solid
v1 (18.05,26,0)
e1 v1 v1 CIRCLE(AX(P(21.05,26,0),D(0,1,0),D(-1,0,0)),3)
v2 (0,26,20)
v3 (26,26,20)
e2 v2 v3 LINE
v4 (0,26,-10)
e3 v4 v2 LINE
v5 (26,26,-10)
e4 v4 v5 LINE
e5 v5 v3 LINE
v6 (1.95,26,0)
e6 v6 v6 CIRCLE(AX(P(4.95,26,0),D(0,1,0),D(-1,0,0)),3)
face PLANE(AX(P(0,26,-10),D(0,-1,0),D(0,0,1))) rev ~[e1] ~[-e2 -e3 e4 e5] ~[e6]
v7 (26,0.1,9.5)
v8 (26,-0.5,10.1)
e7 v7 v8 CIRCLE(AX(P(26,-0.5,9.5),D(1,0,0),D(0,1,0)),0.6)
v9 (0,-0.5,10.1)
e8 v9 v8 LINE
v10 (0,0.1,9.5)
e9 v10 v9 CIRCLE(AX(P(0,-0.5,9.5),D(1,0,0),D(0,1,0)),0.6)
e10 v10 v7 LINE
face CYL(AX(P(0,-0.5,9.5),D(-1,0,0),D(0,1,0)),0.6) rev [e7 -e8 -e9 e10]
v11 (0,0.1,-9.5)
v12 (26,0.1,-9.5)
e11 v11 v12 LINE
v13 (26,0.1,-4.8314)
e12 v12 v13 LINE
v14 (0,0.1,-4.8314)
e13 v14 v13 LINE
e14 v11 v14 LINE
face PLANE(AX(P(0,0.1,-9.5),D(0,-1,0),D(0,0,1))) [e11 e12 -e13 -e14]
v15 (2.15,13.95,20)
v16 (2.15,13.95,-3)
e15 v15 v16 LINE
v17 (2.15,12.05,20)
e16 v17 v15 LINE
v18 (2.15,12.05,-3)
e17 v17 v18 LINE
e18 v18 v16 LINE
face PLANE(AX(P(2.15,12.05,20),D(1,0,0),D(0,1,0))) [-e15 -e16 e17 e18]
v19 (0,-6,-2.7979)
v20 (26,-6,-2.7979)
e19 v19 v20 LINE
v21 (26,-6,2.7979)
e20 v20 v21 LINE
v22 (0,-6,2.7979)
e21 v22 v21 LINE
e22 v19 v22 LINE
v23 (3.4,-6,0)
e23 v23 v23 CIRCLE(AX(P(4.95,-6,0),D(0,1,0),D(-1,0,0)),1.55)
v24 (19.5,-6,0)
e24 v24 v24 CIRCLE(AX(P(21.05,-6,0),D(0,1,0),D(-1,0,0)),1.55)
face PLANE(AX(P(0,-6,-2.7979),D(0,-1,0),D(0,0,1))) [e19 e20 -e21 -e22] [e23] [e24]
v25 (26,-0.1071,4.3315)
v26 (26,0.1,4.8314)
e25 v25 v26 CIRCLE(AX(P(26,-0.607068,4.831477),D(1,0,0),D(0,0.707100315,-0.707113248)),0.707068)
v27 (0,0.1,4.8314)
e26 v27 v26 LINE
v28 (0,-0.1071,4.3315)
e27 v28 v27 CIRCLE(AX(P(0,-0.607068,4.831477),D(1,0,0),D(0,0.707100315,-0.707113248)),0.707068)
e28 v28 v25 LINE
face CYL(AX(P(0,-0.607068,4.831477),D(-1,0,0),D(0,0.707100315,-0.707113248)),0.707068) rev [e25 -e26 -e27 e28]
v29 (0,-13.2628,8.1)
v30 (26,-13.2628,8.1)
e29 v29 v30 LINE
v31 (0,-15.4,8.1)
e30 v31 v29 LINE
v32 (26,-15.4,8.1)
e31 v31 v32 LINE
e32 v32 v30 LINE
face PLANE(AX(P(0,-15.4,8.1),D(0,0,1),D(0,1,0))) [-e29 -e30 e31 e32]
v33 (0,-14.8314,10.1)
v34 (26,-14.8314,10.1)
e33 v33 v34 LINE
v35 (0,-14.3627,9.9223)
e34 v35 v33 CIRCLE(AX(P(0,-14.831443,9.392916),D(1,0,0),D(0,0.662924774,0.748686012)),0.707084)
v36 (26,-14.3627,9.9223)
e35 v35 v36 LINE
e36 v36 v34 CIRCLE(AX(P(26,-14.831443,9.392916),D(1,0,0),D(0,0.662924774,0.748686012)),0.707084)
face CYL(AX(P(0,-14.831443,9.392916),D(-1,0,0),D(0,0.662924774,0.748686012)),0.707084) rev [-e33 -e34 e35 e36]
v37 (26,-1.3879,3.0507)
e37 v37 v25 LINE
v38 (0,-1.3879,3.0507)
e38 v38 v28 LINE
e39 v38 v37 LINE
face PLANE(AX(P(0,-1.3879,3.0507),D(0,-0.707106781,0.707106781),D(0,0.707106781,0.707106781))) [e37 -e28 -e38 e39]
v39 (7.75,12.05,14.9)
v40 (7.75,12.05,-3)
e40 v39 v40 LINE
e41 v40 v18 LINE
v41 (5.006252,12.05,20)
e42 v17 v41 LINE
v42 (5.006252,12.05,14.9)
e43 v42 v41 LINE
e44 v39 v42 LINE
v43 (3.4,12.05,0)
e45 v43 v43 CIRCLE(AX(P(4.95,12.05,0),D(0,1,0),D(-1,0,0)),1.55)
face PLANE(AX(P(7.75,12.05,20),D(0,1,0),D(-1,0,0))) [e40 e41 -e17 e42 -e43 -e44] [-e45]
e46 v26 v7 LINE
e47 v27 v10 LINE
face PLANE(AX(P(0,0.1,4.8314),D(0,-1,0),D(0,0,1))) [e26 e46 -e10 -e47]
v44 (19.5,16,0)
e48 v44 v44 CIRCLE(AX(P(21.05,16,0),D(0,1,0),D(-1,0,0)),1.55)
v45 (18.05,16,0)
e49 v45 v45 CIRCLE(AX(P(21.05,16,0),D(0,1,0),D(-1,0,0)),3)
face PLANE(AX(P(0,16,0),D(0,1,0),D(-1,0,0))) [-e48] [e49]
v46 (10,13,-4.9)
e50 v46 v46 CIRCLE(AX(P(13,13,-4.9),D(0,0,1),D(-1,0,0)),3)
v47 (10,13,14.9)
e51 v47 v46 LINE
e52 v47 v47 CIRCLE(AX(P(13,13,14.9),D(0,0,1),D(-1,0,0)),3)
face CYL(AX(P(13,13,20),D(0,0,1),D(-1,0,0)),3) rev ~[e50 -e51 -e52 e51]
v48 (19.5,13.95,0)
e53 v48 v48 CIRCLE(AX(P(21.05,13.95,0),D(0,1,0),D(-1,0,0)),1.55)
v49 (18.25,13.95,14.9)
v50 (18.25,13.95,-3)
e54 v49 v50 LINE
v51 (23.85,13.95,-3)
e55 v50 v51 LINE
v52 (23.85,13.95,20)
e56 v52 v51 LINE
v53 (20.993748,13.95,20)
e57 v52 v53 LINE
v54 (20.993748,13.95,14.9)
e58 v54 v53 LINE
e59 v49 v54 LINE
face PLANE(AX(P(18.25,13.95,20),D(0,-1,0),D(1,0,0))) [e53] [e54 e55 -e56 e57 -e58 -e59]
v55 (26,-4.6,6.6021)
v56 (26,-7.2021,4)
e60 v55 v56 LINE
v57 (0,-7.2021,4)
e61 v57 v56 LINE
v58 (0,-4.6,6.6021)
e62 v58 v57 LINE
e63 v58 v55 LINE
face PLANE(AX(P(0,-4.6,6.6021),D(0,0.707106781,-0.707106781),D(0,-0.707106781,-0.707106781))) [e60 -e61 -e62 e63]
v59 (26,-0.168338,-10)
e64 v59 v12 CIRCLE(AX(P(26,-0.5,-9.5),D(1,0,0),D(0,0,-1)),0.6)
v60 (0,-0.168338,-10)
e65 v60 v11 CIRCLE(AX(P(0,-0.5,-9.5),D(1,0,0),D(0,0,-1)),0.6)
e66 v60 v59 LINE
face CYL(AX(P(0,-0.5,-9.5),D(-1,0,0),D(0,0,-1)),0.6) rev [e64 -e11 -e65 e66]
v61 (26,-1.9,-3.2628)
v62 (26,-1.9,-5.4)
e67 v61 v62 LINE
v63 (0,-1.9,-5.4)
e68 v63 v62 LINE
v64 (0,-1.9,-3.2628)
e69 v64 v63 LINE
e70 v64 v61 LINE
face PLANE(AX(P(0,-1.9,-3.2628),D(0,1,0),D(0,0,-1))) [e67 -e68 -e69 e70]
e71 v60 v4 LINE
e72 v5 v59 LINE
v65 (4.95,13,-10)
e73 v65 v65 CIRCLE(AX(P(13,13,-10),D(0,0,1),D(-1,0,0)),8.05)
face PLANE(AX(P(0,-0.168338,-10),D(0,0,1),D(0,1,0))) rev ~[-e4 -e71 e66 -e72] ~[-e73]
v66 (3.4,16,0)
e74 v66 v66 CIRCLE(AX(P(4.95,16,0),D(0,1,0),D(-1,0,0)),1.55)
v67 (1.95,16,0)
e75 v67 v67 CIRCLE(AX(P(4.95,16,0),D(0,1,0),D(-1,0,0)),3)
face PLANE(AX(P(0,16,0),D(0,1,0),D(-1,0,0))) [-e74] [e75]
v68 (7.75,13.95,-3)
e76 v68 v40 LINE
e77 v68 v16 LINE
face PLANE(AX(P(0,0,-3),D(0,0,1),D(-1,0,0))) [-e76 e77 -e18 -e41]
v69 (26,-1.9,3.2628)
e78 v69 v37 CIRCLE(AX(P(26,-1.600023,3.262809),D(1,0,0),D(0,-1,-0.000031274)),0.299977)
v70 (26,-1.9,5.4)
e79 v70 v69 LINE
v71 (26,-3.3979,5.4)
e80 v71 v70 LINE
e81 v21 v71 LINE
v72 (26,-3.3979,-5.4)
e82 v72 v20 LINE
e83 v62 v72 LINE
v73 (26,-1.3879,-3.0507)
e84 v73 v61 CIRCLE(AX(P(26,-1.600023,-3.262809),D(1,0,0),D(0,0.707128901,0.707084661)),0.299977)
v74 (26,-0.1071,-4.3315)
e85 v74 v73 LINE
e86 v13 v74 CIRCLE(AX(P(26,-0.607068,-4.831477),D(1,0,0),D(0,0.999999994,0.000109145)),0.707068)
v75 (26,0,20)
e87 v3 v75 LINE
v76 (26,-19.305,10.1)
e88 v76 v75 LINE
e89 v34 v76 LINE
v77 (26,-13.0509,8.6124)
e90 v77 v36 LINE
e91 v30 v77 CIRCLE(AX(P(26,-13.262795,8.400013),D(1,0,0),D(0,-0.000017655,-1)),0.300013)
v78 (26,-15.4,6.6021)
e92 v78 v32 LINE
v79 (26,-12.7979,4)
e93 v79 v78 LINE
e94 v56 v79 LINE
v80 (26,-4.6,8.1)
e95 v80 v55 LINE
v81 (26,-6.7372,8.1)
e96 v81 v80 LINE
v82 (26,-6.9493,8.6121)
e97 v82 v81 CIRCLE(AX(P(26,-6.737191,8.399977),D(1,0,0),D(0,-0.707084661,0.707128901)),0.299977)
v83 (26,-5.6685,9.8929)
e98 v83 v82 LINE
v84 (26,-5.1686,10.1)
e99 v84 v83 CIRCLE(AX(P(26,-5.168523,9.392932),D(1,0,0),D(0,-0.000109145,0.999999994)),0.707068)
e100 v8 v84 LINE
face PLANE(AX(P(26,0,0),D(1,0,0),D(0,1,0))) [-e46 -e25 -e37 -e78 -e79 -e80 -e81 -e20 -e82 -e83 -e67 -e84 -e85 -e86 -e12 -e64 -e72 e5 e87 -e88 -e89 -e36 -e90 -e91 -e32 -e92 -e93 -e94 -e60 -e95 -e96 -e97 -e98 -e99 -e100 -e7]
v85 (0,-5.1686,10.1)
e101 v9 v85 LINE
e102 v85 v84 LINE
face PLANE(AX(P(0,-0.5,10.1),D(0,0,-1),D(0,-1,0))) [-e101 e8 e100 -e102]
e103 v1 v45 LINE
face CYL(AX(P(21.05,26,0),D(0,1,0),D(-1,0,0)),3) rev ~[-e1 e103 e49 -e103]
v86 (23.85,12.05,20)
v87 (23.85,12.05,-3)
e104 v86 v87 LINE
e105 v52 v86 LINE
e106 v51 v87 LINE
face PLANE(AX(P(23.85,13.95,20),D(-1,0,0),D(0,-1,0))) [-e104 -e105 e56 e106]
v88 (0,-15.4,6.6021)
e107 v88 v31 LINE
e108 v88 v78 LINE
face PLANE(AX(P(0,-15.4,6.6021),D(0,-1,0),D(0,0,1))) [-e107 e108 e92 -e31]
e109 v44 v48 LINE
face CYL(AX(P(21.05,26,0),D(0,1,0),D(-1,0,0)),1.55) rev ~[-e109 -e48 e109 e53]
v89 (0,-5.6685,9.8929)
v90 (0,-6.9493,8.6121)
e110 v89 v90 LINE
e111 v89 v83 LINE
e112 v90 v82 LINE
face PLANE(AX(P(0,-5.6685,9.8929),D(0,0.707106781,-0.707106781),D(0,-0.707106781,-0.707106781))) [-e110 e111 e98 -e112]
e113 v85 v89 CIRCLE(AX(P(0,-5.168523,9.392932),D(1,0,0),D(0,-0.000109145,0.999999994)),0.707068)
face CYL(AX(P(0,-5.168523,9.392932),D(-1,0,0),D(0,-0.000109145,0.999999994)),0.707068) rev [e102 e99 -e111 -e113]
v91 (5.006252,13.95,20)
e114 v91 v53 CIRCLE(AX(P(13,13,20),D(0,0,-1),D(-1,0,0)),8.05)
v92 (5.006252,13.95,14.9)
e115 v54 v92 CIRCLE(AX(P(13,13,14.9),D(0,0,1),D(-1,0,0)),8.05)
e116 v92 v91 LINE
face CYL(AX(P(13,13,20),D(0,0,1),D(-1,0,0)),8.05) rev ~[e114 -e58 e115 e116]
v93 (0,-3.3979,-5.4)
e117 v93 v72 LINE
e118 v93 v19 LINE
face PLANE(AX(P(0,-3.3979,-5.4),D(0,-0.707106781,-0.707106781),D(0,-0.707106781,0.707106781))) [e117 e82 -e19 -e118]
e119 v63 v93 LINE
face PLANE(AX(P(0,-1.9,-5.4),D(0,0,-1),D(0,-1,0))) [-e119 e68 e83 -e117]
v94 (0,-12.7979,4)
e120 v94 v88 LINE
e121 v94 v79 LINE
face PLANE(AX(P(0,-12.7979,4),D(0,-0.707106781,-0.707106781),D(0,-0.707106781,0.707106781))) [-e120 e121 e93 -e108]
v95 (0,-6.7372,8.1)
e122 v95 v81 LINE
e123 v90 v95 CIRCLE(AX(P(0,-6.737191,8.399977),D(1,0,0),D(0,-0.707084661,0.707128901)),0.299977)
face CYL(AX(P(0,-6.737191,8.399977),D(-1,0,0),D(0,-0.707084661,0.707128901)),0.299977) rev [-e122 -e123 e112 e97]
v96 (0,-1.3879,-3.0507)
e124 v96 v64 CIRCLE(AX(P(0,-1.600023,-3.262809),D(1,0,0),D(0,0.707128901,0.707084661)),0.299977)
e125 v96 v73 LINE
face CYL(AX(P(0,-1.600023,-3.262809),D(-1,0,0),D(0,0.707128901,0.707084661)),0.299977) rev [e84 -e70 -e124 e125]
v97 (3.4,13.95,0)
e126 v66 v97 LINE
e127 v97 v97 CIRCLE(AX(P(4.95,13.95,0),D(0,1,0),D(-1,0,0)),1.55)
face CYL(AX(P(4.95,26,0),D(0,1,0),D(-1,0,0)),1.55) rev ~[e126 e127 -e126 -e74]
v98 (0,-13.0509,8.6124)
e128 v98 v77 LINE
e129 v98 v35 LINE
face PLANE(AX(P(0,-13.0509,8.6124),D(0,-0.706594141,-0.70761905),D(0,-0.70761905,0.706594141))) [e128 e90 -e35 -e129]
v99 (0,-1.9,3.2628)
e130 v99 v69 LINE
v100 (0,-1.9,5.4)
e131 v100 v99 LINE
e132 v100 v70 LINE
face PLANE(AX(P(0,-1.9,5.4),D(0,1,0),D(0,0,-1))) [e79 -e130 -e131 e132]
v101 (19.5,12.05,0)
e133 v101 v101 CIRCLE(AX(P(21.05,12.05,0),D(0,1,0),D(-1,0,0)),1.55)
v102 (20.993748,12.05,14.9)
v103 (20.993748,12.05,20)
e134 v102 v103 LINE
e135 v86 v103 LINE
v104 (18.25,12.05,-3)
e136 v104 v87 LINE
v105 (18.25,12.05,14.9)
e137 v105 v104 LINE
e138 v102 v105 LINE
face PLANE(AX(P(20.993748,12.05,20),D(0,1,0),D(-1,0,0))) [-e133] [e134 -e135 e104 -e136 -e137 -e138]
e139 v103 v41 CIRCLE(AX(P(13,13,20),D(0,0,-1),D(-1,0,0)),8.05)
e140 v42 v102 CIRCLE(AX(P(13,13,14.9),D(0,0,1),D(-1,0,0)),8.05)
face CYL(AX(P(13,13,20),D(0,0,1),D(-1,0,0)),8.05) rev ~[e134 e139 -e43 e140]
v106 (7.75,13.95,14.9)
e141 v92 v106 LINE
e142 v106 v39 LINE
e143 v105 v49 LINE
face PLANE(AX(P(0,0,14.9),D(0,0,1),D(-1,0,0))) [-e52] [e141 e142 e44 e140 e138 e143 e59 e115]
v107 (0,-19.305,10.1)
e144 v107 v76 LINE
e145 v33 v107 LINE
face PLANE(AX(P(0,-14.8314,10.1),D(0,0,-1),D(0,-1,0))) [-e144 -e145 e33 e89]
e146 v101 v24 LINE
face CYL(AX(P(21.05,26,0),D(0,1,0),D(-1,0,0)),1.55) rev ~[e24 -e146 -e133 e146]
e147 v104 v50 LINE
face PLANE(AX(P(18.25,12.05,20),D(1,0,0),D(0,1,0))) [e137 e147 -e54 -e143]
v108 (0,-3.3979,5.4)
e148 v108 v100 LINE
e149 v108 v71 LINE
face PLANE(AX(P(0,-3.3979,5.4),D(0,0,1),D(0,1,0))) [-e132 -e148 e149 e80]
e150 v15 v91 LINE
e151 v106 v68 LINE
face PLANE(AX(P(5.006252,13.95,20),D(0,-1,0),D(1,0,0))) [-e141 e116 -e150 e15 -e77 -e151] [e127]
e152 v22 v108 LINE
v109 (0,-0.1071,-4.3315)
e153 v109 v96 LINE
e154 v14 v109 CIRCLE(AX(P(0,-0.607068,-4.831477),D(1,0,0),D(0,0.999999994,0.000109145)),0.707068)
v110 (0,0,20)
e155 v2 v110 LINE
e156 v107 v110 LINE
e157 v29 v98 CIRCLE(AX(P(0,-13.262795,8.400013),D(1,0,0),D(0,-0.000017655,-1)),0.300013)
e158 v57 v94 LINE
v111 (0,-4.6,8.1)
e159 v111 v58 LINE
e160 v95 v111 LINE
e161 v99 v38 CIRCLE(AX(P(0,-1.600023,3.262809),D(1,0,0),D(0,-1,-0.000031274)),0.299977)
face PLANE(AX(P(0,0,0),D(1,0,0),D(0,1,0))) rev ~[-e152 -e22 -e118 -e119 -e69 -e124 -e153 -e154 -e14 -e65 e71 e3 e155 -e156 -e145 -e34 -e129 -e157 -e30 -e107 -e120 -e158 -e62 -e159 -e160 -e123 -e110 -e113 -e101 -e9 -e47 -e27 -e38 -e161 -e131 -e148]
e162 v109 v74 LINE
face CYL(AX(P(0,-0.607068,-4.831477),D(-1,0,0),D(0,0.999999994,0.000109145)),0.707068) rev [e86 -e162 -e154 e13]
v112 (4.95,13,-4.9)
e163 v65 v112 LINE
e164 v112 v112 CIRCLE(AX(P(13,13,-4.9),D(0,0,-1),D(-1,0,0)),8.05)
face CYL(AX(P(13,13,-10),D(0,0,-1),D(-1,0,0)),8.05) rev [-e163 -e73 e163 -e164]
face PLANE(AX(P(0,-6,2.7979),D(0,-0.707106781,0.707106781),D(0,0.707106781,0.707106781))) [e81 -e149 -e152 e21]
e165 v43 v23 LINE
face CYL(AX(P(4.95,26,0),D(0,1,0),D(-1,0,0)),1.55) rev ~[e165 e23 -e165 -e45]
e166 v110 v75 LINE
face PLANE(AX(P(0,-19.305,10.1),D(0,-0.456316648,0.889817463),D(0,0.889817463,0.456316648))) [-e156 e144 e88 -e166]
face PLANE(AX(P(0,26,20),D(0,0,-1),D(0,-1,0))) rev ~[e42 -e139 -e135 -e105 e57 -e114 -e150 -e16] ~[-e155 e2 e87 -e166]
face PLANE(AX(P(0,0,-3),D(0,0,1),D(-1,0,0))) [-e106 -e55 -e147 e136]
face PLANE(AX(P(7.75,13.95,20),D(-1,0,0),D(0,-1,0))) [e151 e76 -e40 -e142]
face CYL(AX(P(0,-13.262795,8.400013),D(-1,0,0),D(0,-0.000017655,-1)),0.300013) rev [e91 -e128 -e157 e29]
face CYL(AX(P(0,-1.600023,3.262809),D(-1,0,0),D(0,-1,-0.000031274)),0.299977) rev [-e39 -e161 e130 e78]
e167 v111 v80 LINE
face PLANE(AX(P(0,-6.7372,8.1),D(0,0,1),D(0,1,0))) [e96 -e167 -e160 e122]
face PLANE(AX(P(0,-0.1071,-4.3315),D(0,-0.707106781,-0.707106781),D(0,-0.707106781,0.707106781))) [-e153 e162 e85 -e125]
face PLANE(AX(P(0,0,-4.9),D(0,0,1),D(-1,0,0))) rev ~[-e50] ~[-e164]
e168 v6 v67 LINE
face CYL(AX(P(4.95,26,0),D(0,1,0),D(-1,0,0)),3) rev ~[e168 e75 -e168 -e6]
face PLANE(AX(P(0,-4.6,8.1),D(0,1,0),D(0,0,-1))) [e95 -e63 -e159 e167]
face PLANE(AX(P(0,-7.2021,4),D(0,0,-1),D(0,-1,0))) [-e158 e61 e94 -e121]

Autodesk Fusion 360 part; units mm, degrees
sketch "Sketch1" plane through (0, 0, 0) normal (1, 0, 0) x (0, 1, 0)
  line L0 (-3.4393, 5.5) -> (-1.8, 5.5)
  line L1 (-12.8393, 3.9) -> (-15.5, 6.5607)
  line L2 (-7.1607, 3.9) -> (-12.8393, 3.9)
  line L3 (-4.5, 6.5607) -> (-7.1607, 3.9)
  line L4 (-4.5, -8.2) -> (-6.7372, -8.2)
  line L5 (-5.5978, 9.8222) -> (-6.8786, 8.5414)
  line L6 (-1.8, 5.5) -> (-1.8, 3.2628)
  line L7 (-19.8494, 4.4312) -> (-18.5414, 3.1214)
  line L8 (-15.5, 8.2) -> (-13.2628, 8.2)
  arc A0 (-5.1686, 10) -> (-5.5978, 9.8222) centre (-5.1686, 9.3929) ccw
  circle A1 centre (-10, 0) radius 2.1
  line L9 (-0.5, 10) -> (-5.1686, 10)
  line L10 (-6.1, 2.8393) -> (-3.4393, 5.5)
  line L11 (-14.8314, 10) -> (-19.5, 10)
  line L12 (0, -9.5) -> (0, -4.8314)
  line L13 (-15.5, -8.2) -> (-15.5, -6.5607)
  line L14 (-15.5, -6.5607) -> (-12.8393, -3.9)
  line L15 (-14.4022, -9.8222) -> (-13.1214, -8.5414)
  line L16 (-19.9987, -4.7917) -> (-20, -9.5)
  line L17 (-18.5414, -3.1214) -> (-19.8222, -4.4022)
  line L18 (-6.8786, -8.5414) -> (-5.7664, -9.6536)
  arc A2 (-19.8222, -4.4022) -> (-19.9987, -4.7917) centre (-19.3929, -4.8314) ccw
  line L19 (-13.9, -2.8393) -> (-16.5607, -5.5)
  line L20 (-16.5607, -5.5) -> (-18.2, -5.5)
  arc A3 (-0.5, -10) -> (0, -9.5) centre (-0.5, -9.5) ccw
  arc A4 (-18.2, -3.2628) -> (-18.5414, -3.1214) centre (-18.4, -3.2628) ccw
  line L21 (-13.2628, -8.2) -> (-15.5, -8.2)
  line L22 (-0.1778, -4.4022) -> (-1.4586, -3.1214)
  arc A5 (-5.7664, -9.6536) -> (-5.1686, -10) centre (-5.1163, -9.2207) ccw
  arc A6 (-20, -9.5) -> (-19.5, -10) centre (-19.5, -9.5) ccw
  line L23 (-1.8, -5.5) -> (-3.4393, -5.5)
  line L24 (-5.1686, -10) -> (-0.5, -10)
  line L25 (-3.4393, -5.5) -> (-6.1, -2.8393)
  line L26 (-12.8393, -3.9) -> (-7.1607, -3.9)
  line L27 (-4.5, -6.5607) -> (-4.5, -8.2)
  arc A7 (0, -4.8314) -> (-0.1778, -4.4022) centre (-0.6071, -4.8314) ccw
  arc A8 (-14.8314, -10) -> (-14.4022, -9.8222) centre (-14.8314, -9.3929) ccw
  line L28 (-18.2, -5.5) -> (-18.2, -3.2628)
  arc A9 (-13.1214, -8.5414) -> (-13.2628, -8.2) centre (-13.2628, -8.4) ccw
  arc A10 (-20, 4.9) -> (-19.8494, 4.4312) centre (-19.3734, 4.8428) ccw
  arc A11 (-13.2628, 8.2) -> (-13.1214, 8.5414) centre (-13.2628, 8.4) ccw
  line L29 (-13.1214, 8.5414) -> (-14.4312, 9.8494)
  arc A12 (-6.8786, 8.5414) -> (-6.7372, 8.2) centre (-6.7372, 8.4) ccw
  arc A13 (-18.5414, 3.1214) -> (-18.2, 3.2628) centre (-18.4, 3.2628) ccw
  arc A14 (-14.4312, 9.8494) -> (-14.8314, 10) centre (-14.8314, 9.3929) ccw
  line L30 (-1.4586, 3.1214) -> (-0.1778, 4.4022)
  line L31 (-15.5, 6.5607) -> (-15.5, 8.2)
  arc A15 (-19.5, 10) -> (-20, 9.5) centre (-19.5, 9.5) ccw
  arc A16 (0, 9.5) -> (-0.5, 10) centre (-0.5, 9.5) ccw
  line L32 (-20, 9.5) -> (-20, 4.9)
  line L33 (-19.5, -10) -> (-14.8314, -10)
  line L34 (-7.1607, -3.9) -> (-4.5, -6.5607)
  line L35 (-1.8, -3.2628) -> (-1.8, -5.5)
  arc A17 (-1.4586, -3.1214) -> (-1.8, -3.2628) centre (-1.6, -3.2628) ccw
  arc A18 (-6.7372, -8.2) -> (-6.8786, -8.5414) centre (-6.7372, -8.4) ccw
  arc A19 (-1.8, 3.2628) -> (-1.4586, 3.1214) centre (-1.6, 3.2628) ccw
  line L36 (0, 4.8314) -> (0, 9.5)
  line L37 (-18.2, 5.5) -> (-16.5607, 5.5)
  line L38 (-13.9, 2.8393) -> (-13.9, -2.8393)
  line L39 (-6.1, -2.8393) -> (-6.1, 2.8393)
  line L40 (-18.2, 3.2628) -> (-18.2, 5.5)
  arc A20 (-0.1778, 4.4022) -> (0, 4.8314) centre (-0.6071, 4.8314) ccw
  line L41 (-4.5, 8.2) -> (-4.5, 6.5607)
  line L42 (-6.7372, 8.2) -> (-4.5, 8.2)
  line L43 (-16.5607, 5.5) -> (-13.9, 2.8393)
  line L44 (-12.7979, 4) -> (-15.4, 6.6021)
  line L45 (-15.4, 6.6021) -> (-15.4, 8.1)
  line L46 (-15.4, 8.1) -> (-13.2628, 8.1)
  arc A21 (-13.2628, 8.1) -> (-13.0509, 8.6124) centre (-13.2628, 8.4) ccw
  line L47 (-13.0509, 8.6124) -> (-14.3627, 9.9223)
  arc A22 (-14.3627, 9.9223) -> (-14.8314, 10.1) centre (-14.8314, 9.3929) ccw
  line L48 (-14.8314, 10.1) -> (-19.5, 10.1)
  arc A23 (-19.5, 10.1) -> (-20.1, 9.5) centre (-19.5, 9.5) ccw
  line L49 (-20.1, 9.5) -> (-20.1, 4.9044)
  arc A24 (-20.1, 4.9044) -> (-19.9226, 4.363) centre (-19.3734, 4.8428) ccw
  line L50 (-19.9226, 4.363) -> (-18.6124, 3.0509)
  arc A25 (-18.6124, 3.0509) -> (-18.1, 3.2628) centre (-18.4, 3.2628) ccw
  line L51 (-18.1, 3.2628) -> (-18.1, 5.4)
  line L52 (-18.1, 5.4) -> (-16.6021, 5.4)
  line L53 (-16.6021, 5.4) -> (-14, 2.7979)
  line L54 (-14, 2.7979) -> (-14, -2.7979)
  line L55 (-14, -2.7979) -> (-16.6021, -5.4)
  line L56 (-16.6021, -5.4) -> (-18.1, -5.4)
  line L57 (-18.1, -5.4) -> (-18.1, -3.2628)
  arc A26 (-18.1, -3.2628) -> (-18.6121, -3.0507) centre (-18.4, -3.2628) ccw
  line L58 (-18.6121, -3.0507) -> (-19.8929, -4.3315)
  arc A27 (-19.8929, -4.3315) -> (-20.0987, -4.7886) centre (-19.3929, -4.8314) ccw
  line L59 (-20.0987, -4.7886) -> (-20.1, -9.4997)
  arc A28 (-20.1, -9.4997) -> (-19.5, -10.1) centre (-19.5, -9.5) ccw
  line L60 (-19.5, -10.1) -> (-14.8314, -10.1)
  arc A29 (-14.8314, -10.1) -> (-14.3315, -9.8929) centre (-14.8314, -9.3929) ccw
  line L61 (-14.3315, -9.8929) -> (-13.0507, -8.6121)
  arc A30 (-13.0507, -8.6121) -> (-13.2628, -8.1) centre (-13.2628, -8.4) ccw
  line L62 (-13.2628, -8.1) -> (-15.4, -8.1)
  line L63 (-15.4, -8.1) -> (-15.4, -6.6021)
  line L64 (-15.4, -6.6021) -> (-12.7979, -4)
  line L65 (-12.7979, -4) -> (-7.2021, -4)
  line L66 (-7.2021, -4) -> (-4.6, -6.6021)
  line L67 (-4.6, -6.6021) -> (-4.6, -8.1)
  line L68 (-4.6, -8.1) -> (-6.7372, -8.1)
  arc A31 (-6.7372, -8.1) -> (-6.9493, -8.6121) centre (-6.7372, -8.4) ccw
  line L69 (-6.9493, -8.6121) -> (-5.8439, -9.7175)
  arc A32 (-5.8439, -9.7175) -> (-5.1718, -10.1) centre (-5.1163, -9.2207) ccw
  line L70 (-5.1718, -10.1) -> (-0.5, -10.1)
  arc A33 (-0.5, -10.1) -> (0.1, -9.5) centre (-0.5, -9.5) ccw
  line L71 (0.1, -9.5) -> (0.1, -4.8314)
  arc A34 (0.1, -4.8314) -> (-0.1071, -4.3315) centre (-0.6071, -4.8314) ccw
  line L72 (-0.1071, -4.3315) -> (-1.3879, -3.0507)
  arc A35 (-1.3879, -3.0507) -> (-1.9, -3.2628) centre (-1.6, -3.2628) ccw
  line L73 (-1.9, -3.2628) -> (-1.9, -5.4)
  line L74 (-1.9, -5.4) -> (-3.3979, -5.4)
  line L75 (-3.3979, -5.4) -> (-6, -2.7979)
  line L76 (-6, -2.7979) -> (-6, 2.7979)
  line L77 (-6, 2.7979) -> (-3.3979, 5.4)
  line L78 (-3.3979, 5.4) -> (-1.9, 5.4)
  line L79 (-1.9, 5.4) -> (-1.9, 3.2628)
  arc A36 (-1.9, 3.2628) -> (-1.3879, 3.0507) centre (-1.6, 3.2628) ccw
  line L80 (-1.3879, 3.0507) -> (-0.1071, 4.3315)
  arc A37 (-0.1071, 4.3315) -> (0.1, 4.8314) centre (-0.6071, 4.8314) ccw
  line L81 (0.1, 4.8314) -> (0.1, 9.5)
  arc A38 (0.1, 9.5) -> (-0.5, 10.1) centre (-0.5, 9.5) ccw
  line L82 (-0.5, 10.1) -> (-5.1686, 10.1)
  arc A39 (-5.1686, 10.1) -> (-5.6685, 9.8929) centre (-5.1686, 9.3929) ccw
  line L83 (-5.6685, 9.8929) -> (-6.9493, 8.6121)
  arc A40 (-6.9493, 8.6121) -> (-6.7372, 8.1) centre (-6.7372, 8.4) ccw
  line L84 (-6.7372, 8.1) -> (-4.6, 8.1)
  line L85 (-4.6, 8.1) -> (-4.6, 6.6021)
  line L86 (-4.6, 6.6021) -> (-7.2021, 4)
  line L87 (-7.2021, 4) -> (-12.7979, 4)
  line L88 (0, -15) -> (0, 15) construction
  line L89 (-0.5, -10) -> (0, -10)
  line L90 (0, -10) -> (26, -10)
  line L91 (26, -10) -> (26, 20)
  line L92 (26, 20) -> (0, 20)
  line L93 (-19.5, 10) -> (0, 20)
  line L94 (13, 20) -> (13, -10) construction
  point P0 (-10, 0)
  dimension "d1" = 0.1
extrude "Extrude1" add sketch "Sketch1" along normal blind 26 contours L44 L45 L46 A21 L47 A22 L48 A33 L71 A34 L72 A35 L73 L74 L75 L76 L77 L78 L79 A36 L80 A37 L81 A38 L82 A39 L83 A40 L84 L85 L86 L87 L89 L90 L91 L92 L93
sketch "Sketch2" plane through (0, 0, 20) normal (0, 0, 1) x (-1, 0, 0)
  line L0 (0, -26) -> (0, 0)
  line L1 (0, 0) -> (-26, 0)
  line L2 (-26, 0) -> (-26, -26)
  line L3 (-26, -26) -> (0, -26)
  circle A0 centre (-13, -13) radius 8.05
  circle A1 centre (-13, -13) radius 3
  line L4 (0, -13) -> (-26, -13) construction
  line L5 (-2.15, -13.95) -> (-7.75, -13.95)
  line L6 (-7.75, -13.95) -> (-7.75, -12.05)
  line L7 (-7.75, -12.05) -> (-2.15, -12.05)
  line L8 (-2.15, -12.05) -> (-2.15, -13.95)
  line L9 (-2.15, -13.95) -> (-7.75, -12.05) construction
  line L10 (-7.75, -13.95) -> (-2.15, -12.05) construction
  line L11 (-18.25, -13.95) -> (-23.85, -13.95)
  line L12 (-23.85, -13.95) -> (-23.85, -12.05)
  line L13 (-23.85, -12.05) -> (-18.25, -12.05)
  line L14 (-18.25, -12.05) -> (-18.25, -13.95)
  line L15 (-18.25, -13.95) -> (-23.85, -12.05) construction
  line L16 (-23.85, -13.95) -> (-18.25, -12.05) construction
  point P0 (-4.95, -13)
  point P1 (-21.05, -13)
  dimension "d9" = 16.1
  dimension "d15" = 6
  dimension "d18" = 5.6
  dimension "d19" = 1.9
  dimension "d20" = 5.6
  dimension "d21" = 1.9
extrude "Extrude2" cut sketch "Sketch2" against normal blind 5.1 contours A0 L5 L6 L7 | A0 L5 L6 L7 L11 L13 L14 | A0 L11 L13 L14 | A1
extrude "Extrude3" cut sketch "Sketch2" along normal blind 5.1 from surface at -30 contours A0 L5 L6 L7 | A0 L5 L6 L7 L11 L13 L14 | A0 L11 L13 L14 | A1
extrude "Extrude4" cut sketch "Sketch2" against normal blind 30 contours A1
sketch "Sketch3" plane through (0, 26, 0) normal (0, 1, 0) x (-1, 0, 0)
  line L0 (0, -10) -> (0, 20)
  line L1 (0, 20) -> (-26, 20)
  line L2 (-26, 20) -> (-26, -10)
  line L3 (-26, -10) -> (0, -10)
  line L4 (-27, 0) -> (1, 0) construction
  circle A0 centre (-13, 0) radius 8.05 construction
  circle A1 centre (-21.05, 0) radius 3
  circle A2 centre (-21.05, 0) radius 1.55
  circle A3 centre (-4.95, 0) radius 3
  circle A4 centre (-4.95, 0) radius 1.55
  dimension "d22" = 16.1
  dimension "d23" = 6
  dimension "d24" = 3.1
  dimension "d25" = 6
  dimension "d26" = 3.1
extrude "Extrude5" cut sketch "Sketch3" against normal blind 33 contours A2 | A4
extrude "Extrude6" cut sketch "Sketch3" against normal blind 10 contours A1 | A3
extrude "Extrude7" cut sketch "Sketch2" against normal blind 23 contours A0 L5 L6 L7 | A0 L5 L7 L8 | A0 L11 L13 L14 | A0 L11 L12 L13
